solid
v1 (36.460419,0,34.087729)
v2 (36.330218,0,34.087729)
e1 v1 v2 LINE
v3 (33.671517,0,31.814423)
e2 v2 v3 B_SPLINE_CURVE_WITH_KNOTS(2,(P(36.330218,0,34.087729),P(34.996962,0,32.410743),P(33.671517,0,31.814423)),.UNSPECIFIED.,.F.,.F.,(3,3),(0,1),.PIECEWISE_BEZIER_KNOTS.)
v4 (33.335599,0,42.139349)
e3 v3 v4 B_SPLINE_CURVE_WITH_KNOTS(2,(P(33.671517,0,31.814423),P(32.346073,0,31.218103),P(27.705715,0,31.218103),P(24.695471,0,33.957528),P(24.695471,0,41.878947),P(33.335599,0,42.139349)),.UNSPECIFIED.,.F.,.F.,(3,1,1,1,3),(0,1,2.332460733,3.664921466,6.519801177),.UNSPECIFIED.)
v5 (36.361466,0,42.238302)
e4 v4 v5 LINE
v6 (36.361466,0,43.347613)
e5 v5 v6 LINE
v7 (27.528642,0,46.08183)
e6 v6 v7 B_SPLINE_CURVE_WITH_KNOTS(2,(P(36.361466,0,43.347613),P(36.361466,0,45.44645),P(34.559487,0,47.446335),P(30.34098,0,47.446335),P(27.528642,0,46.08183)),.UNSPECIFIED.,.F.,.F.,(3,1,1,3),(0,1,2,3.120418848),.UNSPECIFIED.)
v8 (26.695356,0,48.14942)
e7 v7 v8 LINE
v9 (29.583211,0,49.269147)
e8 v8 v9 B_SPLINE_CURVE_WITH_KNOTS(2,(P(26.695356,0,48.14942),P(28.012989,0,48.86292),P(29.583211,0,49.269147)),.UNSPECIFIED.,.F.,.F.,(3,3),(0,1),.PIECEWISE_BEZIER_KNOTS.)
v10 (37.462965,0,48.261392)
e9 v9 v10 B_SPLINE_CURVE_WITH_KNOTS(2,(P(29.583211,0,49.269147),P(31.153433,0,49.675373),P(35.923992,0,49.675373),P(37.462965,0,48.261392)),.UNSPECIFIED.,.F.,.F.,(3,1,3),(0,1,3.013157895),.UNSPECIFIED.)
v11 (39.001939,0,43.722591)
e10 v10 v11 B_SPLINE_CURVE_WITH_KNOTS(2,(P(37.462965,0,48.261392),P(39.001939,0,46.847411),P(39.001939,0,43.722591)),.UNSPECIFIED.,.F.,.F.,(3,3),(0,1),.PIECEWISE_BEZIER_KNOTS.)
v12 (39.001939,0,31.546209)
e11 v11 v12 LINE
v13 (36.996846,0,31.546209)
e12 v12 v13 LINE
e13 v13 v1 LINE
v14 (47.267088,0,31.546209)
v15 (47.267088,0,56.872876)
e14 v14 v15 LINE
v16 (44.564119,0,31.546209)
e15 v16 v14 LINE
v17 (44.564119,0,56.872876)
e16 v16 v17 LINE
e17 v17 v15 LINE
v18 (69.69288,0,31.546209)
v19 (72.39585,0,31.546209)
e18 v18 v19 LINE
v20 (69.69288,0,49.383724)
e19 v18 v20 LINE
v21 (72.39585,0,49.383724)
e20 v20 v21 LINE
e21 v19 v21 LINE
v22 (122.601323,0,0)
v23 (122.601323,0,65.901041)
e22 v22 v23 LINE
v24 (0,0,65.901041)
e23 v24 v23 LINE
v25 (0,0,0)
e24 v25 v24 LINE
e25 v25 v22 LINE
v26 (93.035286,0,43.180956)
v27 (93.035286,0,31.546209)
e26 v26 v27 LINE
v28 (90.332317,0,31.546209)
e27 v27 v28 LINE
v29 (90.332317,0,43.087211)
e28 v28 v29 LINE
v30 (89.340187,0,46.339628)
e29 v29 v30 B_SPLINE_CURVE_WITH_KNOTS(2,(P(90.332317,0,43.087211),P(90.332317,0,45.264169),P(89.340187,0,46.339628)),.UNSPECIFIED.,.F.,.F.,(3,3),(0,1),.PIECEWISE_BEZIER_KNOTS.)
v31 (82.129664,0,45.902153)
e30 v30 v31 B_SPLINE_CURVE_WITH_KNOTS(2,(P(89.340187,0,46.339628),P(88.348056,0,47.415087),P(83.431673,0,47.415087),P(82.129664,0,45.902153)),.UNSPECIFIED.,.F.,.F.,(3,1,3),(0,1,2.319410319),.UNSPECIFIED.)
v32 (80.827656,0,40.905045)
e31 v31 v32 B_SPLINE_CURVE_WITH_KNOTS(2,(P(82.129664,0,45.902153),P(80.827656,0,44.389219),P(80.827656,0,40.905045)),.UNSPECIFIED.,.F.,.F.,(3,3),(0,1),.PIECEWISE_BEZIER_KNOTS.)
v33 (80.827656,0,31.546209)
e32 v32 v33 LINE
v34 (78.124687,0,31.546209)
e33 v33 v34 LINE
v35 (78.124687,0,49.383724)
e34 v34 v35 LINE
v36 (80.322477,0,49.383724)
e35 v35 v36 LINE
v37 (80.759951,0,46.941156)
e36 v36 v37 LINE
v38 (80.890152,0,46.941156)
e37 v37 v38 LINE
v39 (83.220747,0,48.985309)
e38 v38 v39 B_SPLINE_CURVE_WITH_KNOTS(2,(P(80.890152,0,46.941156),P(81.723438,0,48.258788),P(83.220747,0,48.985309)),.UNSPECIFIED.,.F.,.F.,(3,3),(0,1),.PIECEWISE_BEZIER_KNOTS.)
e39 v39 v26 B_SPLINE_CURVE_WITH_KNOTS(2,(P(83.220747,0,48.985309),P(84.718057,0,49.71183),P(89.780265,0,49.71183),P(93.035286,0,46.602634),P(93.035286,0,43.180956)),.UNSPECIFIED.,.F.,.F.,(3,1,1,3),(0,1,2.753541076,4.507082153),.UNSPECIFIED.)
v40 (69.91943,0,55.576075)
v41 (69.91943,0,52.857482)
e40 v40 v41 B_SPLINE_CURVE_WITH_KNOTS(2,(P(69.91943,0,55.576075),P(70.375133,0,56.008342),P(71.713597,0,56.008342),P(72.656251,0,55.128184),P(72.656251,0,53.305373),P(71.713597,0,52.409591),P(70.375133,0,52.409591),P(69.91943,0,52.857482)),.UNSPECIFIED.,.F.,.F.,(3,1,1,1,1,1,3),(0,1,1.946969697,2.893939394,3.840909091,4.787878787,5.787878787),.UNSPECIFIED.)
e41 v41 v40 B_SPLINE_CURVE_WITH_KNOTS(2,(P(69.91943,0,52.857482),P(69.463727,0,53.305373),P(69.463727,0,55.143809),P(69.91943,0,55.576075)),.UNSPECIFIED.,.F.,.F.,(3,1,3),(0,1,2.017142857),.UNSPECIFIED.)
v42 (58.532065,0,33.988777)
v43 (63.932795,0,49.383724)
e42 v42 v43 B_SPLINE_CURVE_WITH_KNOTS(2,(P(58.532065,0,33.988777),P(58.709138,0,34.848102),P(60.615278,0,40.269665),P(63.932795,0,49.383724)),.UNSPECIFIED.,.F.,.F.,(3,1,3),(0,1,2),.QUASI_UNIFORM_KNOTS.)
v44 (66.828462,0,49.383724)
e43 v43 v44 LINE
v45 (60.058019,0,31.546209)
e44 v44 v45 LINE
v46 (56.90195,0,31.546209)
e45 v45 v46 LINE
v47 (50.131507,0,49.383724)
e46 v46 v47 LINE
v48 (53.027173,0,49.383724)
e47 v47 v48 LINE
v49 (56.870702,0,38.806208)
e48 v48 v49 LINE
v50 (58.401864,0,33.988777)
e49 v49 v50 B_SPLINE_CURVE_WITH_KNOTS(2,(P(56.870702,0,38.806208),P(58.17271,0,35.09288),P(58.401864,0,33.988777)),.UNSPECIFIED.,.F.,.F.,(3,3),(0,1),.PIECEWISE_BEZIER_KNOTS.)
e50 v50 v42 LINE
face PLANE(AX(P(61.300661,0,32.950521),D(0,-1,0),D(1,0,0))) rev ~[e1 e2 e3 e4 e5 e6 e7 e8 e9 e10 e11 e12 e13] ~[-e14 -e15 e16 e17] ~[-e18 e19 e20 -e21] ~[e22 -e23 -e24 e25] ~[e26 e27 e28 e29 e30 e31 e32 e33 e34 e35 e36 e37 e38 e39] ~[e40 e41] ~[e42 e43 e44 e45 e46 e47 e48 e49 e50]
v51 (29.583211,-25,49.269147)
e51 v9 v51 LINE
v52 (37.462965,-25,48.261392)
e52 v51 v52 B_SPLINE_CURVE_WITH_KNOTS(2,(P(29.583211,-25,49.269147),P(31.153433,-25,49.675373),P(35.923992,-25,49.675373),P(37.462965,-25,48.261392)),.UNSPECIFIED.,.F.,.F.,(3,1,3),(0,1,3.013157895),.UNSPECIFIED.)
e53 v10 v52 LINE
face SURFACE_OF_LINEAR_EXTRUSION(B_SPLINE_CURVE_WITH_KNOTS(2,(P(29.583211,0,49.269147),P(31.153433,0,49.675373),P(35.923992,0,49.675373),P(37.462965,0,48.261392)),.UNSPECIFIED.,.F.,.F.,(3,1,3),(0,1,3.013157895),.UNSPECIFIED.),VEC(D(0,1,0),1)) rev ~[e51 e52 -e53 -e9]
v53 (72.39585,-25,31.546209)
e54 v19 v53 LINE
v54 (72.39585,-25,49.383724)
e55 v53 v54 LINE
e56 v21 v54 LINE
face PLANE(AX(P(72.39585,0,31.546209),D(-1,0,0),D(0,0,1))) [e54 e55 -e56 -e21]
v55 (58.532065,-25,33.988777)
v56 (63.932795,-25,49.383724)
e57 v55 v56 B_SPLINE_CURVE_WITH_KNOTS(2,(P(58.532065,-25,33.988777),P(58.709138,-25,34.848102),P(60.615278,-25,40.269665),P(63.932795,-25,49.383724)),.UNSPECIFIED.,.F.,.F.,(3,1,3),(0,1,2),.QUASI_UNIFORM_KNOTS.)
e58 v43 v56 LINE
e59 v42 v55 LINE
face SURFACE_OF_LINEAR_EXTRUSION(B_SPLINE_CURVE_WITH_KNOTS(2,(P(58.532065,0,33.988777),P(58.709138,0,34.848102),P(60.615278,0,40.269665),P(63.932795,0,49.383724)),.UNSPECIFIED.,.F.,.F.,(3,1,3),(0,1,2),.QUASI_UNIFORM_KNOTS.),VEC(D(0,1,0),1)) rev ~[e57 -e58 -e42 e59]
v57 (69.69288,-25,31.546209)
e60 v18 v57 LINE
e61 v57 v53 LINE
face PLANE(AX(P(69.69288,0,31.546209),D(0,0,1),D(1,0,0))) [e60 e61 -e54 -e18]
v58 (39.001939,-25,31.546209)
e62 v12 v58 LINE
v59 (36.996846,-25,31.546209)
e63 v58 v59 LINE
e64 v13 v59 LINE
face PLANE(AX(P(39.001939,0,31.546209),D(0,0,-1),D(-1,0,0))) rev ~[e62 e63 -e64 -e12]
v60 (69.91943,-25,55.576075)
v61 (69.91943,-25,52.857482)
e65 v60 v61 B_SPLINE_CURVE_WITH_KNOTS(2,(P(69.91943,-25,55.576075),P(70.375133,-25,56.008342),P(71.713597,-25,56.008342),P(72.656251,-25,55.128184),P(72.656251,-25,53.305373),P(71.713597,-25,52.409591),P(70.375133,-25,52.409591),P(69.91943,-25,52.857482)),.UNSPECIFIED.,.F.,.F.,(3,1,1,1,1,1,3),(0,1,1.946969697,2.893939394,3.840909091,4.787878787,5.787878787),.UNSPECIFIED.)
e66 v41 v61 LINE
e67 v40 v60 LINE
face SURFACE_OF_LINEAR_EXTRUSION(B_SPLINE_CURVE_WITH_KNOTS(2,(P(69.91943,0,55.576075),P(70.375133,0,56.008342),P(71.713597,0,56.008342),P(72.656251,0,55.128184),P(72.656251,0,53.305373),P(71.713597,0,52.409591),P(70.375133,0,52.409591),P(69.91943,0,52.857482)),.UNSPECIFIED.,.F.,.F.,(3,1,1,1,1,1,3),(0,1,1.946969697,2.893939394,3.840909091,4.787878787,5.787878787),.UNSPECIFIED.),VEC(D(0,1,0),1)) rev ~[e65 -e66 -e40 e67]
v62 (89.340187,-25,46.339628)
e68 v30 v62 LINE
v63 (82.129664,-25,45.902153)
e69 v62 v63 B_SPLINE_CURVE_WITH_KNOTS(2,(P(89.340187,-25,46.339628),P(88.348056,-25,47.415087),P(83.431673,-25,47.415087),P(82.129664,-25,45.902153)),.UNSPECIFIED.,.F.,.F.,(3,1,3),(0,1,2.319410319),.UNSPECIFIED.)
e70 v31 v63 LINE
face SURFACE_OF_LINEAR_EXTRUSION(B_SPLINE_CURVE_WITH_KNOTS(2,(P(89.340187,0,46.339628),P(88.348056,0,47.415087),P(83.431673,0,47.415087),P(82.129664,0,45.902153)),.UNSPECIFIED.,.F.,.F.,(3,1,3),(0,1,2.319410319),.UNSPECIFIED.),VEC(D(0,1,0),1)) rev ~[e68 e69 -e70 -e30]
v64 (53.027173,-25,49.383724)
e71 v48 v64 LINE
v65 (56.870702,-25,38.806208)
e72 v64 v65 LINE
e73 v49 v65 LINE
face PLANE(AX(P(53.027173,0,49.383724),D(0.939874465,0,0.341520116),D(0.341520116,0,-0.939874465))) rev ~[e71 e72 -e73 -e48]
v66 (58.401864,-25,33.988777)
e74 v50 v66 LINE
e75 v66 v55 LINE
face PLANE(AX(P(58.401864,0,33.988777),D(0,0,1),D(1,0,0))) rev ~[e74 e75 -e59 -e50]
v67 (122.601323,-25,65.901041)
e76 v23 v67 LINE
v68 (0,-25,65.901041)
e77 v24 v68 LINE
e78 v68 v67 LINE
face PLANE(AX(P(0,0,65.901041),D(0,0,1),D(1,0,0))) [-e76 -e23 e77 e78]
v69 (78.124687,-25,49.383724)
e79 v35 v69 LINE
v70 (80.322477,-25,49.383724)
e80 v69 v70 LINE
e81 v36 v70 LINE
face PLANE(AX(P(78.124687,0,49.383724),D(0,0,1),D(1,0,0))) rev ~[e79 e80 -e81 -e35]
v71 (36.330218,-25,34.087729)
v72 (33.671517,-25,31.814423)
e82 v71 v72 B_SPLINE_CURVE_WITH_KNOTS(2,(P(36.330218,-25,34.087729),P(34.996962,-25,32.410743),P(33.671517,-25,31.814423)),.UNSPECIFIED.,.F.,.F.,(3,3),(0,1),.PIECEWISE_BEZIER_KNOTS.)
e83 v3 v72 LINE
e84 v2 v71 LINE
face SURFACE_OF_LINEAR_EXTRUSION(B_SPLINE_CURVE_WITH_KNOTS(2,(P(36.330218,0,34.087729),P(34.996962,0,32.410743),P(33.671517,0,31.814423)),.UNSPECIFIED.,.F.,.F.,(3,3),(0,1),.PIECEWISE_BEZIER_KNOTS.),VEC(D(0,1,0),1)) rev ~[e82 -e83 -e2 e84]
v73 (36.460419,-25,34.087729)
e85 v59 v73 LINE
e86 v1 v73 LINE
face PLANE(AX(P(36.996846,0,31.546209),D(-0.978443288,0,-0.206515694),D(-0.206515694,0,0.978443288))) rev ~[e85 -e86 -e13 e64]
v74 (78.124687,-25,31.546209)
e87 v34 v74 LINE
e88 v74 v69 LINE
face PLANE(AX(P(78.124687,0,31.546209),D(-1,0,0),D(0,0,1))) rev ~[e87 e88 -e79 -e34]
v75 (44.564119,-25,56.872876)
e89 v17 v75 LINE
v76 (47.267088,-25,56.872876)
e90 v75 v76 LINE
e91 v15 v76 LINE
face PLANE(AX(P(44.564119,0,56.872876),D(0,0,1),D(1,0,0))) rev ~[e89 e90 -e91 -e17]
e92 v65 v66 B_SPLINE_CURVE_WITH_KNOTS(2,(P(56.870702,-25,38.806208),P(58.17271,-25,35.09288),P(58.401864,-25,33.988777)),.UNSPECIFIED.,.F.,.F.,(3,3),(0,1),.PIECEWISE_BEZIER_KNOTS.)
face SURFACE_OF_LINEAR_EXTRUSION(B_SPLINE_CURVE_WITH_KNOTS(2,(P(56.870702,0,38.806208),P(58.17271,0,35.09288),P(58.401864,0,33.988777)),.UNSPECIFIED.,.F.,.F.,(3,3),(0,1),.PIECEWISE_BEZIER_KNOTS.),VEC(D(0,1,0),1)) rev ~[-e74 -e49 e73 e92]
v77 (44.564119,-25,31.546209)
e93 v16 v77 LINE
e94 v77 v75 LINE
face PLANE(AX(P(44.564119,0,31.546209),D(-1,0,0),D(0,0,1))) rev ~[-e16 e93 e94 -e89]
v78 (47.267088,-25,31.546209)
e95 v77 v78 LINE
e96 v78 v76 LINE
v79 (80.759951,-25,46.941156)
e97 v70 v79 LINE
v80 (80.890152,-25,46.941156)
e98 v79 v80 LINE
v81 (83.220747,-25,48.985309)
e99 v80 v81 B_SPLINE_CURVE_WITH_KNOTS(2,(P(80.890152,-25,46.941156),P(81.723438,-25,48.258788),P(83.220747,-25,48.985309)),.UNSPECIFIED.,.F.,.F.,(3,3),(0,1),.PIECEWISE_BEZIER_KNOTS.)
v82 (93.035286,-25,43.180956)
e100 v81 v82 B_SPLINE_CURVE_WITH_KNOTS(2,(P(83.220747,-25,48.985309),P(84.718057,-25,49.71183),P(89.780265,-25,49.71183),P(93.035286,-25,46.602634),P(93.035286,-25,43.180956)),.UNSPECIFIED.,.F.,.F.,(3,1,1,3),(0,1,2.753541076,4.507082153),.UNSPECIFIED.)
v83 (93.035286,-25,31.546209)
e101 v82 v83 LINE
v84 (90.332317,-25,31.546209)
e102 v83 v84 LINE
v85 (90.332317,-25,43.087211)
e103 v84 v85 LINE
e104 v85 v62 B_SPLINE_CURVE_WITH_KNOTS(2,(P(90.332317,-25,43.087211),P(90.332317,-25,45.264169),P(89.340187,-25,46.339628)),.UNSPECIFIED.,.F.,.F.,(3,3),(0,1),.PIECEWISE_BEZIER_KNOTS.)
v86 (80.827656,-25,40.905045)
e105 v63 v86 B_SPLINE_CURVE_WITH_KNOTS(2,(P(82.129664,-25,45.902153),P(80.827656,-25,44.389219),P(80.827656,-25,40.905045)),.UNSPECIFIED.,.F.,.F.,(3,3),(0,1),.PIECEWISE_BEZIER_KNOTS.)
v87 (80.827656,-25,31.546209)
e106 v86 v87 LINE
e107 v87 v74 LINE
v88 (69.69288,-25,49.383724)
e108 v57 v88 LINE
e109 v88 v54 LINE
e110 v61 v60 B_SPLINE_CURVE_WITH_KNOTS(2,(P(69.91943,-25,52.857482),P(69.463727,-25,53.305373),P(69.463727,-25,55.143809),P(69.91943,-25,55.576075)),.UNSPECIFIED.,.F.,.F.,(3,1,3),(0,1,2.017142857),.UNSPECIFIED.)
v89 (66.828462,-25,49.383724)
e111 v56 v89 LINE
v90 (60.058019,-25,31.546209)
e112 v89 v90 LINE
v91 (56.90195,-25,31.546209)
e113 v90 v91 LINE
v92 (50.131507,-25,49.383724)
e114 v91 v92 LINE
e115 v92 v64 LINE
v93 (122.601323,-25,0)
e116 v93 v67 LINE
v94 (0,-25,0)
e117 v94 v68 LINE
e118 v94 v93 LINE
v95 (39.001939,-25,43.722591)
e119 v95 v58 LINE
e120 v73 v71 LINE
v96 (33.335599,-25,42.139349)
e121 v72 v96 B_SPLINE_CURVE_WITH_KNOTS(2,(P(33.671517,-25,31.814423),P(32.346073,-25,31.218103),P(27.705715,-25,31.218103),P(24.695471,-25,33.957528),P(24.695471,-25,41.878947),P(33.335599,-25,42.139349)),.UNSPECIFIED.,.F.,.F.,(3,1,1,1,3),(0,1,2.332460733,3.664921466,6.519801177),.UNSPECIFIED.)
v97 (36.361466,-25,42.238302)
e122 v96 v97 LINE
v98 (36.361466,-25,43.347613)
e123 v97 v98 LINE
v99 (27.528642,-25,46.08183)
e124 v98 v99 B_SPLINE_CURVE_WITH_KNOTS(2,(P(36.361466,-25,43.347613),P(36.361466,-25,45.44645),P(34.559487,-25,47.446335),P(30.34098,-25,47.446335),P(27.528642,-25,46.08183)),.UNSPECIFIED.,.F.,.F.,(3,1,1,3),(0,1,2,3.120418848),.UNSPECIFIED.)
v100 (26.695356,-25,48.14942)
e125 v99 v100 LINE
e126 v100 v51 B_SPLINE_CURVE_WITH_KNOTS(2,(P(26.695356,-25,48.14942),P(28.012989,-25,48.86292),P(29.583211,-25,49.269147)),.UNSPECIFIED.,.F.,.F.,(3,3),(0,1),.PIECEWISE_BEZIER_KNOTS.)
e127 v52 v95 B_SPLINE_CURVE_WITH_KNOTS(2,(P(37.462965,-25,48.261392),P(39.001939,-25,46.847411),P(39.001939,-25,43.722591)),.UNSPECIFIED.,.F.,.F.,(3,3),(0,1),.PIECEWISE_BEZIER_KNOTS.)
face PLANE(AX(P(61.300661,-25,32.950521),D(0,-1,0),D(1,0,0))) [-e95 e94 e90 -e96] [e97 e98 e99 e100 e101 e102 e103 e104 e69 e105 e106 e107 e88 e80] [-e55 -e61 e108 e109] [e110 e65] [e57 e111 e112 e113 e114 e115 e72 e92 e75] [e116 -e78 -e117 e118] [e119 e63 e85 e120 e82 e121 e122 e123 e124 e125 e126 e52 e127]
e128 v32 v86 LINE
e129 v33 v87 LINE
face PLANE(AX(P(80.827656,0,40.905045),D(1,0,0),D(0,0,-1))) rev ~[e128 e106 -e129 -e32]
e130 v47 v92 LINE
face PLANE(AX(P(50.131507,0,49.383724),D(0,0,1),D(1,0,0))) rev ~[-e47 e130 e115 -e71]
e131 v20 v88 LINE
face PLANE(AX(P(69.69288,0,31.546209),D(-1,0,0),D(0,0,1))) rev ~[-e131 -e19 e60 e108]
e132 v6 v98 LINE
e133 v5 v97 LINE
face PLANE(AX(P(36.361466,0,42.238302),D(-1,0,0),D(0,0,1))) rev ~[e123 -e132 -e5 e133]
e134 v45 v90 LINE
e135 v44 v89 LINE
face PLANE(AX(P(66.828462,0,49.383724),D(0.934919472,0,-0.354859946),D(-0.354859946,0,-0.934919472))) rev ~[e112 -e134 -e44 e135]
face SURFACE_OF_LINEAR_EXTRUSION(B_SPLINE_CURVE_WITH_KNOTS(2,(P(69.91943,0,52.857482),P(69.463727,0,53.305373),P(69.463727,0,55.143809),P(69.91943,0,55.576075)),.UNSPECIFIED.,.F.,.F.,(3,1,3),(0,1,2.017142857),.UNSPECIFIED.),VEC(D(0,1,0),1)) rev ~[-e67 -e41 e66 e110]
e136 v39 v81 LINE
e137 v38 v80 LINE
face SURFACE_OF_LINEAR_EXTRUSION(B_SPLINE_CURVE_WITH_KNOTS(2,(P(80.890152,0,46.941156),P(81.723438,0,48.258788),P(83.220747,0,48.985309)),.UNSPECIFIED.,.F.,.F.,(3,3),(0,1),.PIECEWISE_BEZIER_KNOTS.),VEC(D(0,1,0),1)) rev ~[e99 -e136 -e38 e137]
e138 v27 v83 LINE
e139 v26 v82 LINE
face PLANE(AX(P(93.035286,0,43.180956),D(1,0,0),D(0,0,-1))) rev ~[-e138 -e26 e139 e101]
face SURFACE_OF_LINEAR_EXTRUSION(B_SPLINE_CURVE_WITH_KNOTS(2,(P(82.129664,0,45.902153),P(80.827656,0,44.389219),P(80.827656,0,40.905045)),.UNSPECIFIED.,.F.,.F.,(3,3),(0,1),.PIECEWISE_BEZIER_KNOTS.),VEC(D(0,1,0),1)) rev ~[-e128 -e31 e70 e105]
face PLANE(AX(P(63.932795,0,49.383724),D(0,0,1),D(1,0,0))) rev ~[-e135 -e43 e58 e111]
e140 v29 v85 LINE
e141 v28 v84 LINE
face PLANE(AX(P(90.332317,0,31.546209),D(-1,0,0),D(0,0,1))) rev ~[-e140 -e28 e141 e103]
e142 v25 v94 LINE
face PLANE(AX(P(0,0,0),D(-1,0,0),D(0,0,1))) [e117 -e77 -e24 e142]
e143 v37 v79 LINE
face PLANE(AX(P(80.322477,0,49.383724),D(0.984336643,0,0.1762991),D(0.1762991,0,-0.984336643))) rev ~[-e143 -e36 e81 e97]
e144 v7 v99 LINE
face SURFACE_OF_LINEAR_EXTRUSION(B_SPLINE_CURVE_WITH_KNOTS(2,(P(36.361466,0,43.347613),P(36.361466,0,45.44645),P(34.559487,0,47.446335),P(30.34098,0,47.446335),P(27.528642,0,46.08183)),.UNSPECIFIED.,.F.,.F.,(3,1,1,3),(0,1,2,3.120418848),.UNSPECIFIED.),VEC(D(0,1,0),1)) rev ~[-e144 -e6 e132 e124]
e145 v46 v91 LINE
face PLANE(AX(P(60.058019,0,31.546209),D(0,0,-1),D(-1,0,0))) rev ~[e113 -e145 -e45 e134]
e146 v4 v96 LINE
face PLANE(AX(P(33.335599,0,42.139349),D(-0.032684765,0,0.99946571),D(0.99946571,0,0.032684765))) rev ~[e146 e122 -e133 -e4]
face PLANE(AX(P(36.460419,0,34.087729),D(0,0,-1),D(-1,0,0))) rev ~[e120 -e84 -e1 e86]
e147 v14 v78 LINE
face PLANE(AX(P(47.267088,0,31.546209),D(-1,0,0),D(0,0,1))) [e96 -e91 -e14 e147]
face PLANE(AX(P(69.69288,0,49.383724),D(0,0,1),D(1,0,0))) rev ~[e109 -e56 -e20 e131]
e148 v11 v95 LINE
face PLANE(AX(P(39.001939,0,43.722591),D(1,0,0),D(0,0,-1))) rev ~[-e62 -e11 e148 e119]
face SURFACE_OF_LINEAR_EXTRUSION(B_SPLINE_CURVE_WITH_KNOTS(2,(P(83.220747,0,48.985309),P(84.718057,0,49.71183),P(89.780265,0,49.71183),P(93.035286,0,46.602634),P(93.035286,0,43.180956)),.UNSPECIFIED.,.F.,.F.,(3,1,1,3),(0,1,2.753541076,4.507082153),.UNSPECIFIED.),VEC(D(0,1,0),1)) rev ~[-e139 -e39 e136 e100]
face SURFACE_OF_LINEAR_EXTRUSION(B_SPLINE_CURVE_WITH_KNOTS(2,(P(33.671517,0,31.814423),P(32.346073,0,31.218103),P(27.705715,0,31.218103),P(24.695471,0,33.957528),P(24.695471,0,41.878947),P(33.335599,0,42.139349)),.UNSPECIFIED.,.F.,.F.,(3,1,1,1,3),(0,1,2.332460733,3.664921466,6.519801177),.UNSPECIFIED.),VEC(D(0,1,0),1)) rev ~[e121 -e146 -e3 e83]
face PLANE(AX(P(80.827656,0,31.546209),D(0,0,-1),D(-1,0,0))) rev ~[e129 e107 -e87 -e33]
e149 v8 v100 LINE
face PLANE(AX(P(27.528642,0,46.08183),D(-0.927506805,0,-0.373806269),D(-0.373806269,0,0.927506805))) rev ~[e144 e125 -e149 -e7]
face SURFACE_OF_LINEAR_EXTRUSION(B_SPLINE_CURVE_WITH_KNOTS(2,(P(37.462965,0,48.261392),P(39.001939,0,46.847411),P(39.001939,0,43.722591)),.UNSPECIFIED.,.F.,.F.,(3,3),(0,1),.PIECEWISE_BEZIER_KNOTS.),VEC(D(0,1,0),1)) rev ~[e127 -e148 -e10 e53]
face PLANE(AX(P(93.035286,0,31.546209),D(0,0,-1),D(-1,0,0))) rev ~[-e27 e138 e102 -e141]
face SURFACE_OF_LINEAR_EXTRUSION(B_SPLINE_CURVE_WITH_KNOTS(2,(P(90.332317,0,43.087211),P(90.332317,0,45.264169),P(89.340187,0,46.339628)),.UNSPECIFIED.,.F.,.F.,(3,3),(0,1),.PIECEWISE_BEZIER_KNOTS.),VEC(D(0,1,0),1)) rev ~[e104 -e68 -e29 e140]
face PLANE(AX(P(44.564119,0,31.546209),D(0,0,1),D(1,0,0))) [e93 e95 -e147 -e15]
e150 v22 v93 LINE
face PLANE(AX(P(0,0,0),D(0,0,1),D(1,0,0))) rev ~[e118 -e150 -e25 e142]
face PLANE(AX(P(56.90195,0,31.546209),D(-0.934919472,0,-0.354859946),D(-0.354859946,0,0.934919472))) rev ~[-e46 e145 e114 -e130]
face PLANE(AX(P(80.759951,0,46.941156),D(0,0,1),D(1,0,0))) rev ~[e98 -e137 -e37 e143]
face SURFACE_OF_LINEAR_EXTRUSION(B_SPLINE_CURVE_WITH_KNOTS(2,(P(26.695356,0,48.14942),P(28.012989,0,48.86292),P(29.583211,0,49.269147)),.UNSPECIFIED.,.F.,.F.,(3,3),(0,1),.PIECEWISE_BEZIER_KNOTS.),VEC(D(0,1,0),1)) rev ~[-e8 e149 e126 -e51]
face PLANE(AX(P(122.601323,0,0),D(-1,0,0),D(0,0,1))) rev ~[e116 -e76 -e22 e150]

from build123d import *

# Parameters (mm, degrees)
F1_W     = 122.6013228297
F1_H     = 65.9010410309
F1_W_2   = 2.7029693592
F1_H_2   = 25.326666655
F1_H_3   = 17.8375145576
F2_DEPTH = 25


with BuildPart() as f2:
    # F1 (on face) → F2 (new body)
    with BuildSketch(Plane.XZ):
        with Locations((61.3006614149, 32.9505205154)):
            Rectangle(F1_W, F1_H)
        with BuildLine():
            Line((39.001939275, 31.5462090075), (36.9968463977, 31.5462090075))
            Line((36.9968463977, 31.5462090075), (36.4604189526, 34.0877293299))
            Line((36.4604189526, 34.0877293299), (36.3302181164, 34.0877293299))
            add(Edge.make_bspline(
                [(36.3302181164, 34.0877293299), (34.9969615539, 32.4107425598), (33.6715170415, 31.81442273)],
                knots=[0, 0, 0, 1, 1, 1], degree=2))
            add(Edge.make_bspline(
                [(33.6715170415, 31.81442273), (32.3460725291, 31.2181029003), (30.3566037522, 31.2181029003)],
                knots=[0, 0, 0, 1, 1, 1], degree=2))
            add(Edge.make_bspline(
                [(30.3566037522, 31.2181029003), (27.7057147274, 31.2181029003), (26.2005930611, 32.587815697)],
                knots=[0, 0, 0, 1, 1, 1], degree=2))
            add(Edge.make_bspline(
                [(26.2005930611, 32.587815697), (24.6954713948, 33.9575284937), (24.6954713948, 36.4782166823)],
                knots=[0, 0, 0, 1, 1, 1], degree=2))
            add(Edge.make_bspline(
                [(24.6954713948, 36.4782166823), (24.6954713948, 41.8789473673), (33.3355988842, 42.1393490396)],
                knots=[0, 0, 0, 1, 1, 1], degree=2))
            Line((33.3355988842, 42.1393490396), (36.3614663171, 42.2383016751))
            Line((36.3614663171, 42.2383016751), (36.3614663171, 43.3476127995))
            add(Edge.make_bspline(
                [(36.3614663171, 43.3476127995), (36.3614663171, 45.4464502788), (35.4604765307, 46.4463927007)],
                knots=[0, 0, 0, 1, 1, 1], degree=2))
            add(Edge.make_bspline(
                [(35.4604765307, 46.4463927007), (34.5594867443, 47.4463351226), (32.5700179674, 47.4463351226)],
                knots=[0, 0, 0, 1, 1, 1], degree=2))
            add(Edge.make_bspline(
                [(32.5700179674, 47.4463351226), (30.3409796519, 47.4463351226), (27.5286415902, 46.0818303594)],
                knots=[0, 0, 0, 1, 1, 1], degree=2))
            Line((27.5286415902, 46.0818303594), (26.6953562386, 48.149419638))
            add(Edge.make_bspline(
                [(26.6953562386, 48.149419638), (28.0129887008, 48.8629202203), (29.5832107853, 49.2691468292)],
                knots=[0, 0, 0, 1, 1, 1], degree=2))
            add(Edge.make_bspline(
                [(29.5832107853, 49.2691468292), (31.1534328697, 49.6753734381), (32.7366750377, 49.6753734381)],
                knots=[0, 0, 0, 1, 1, 1], degree=2))
            add(Edge.make_bspline(
                [(32.7366750377, 49.6753734381), (35.9239915075, 49.6753734381), (37.4629653913, 48.2613923571)],
                knots=[0, 0, 0, 1, 1, 1], degree=2))
            add(Edge.make_bspline(
                [(37.4629653913, 48.2613923571), (39.001939275, 46.8474112762), (39.001939275, 43.7225912077)],
                knots=[0, 0, 0, 1, 1, 1], degree=2))
            Line((39.001939275, 43.7225912077), (39.001939275, 31.5462090075))
        make_face(mode=Mode.SUBTRACT)
        with BuildLine():
            Line((60.0580185031, 31.5462090075), (56.9019502339, 31.5462090075))
            Line((56.9019502339, 31.5462090075), (50.1315067522, 49.3837235651))
            Line((50.1315067522, 49.3837235651), (53.027173349, 49.3837235651))
            Line((53.027173349, 49.3837235651), (56.8707020332, 38.8062076333))
            add(Edge.make_bspline(
                [(56.8707020332, 38.8062076333), (58.1727103951, 35.0928797852), (58.4018638668, 33.9887766944)],
                knots=[0, 0, 0, 1, 1, 1], degree=2))
            Line((58.4018638668, 33.9887766944), (58.532064703, 33.9887766944))
            add(Edge.make_bspline(
                [(58.532064703, 33.9887766944), (58.7091378402, 34.8481022132), (59.6622079611, 37.5588836226)],
                knots=[0, 0, 0, 1, 1, 1], degree=2))
            add(Edge.make_bspline(
                [(59.6622079611, 37.5588836226), (60.615278082, 40.269665032), (63.932795388, 49.3837235651)],
                knots=[0, 0, 0, 1, 1, 1], degree=2))
            Line((63.932795388, 49.3837235651), (66.8284619848, 49.3837235651))
            Line((66.8284619848, 49.3837235651), (60.0580185031, 31.5462090075))
        make_face(mode=Mode.SUBTRACT)
        with Locations((45.9156036765, 44.209542335)):
            Rectangle(F1_W_2, F1_H_2, mode=Mode.SUBTRACT)
        with Locations((71.0443650605, 40.4649662863)):
            Rectangle(F1_W_2, F1_H_3, mode=Mode.SUBTRACT)
        with BuildLine():
            Line((93.0352862924, 31.5462090075), (90.3323169332, 31.5462090075))
            Line((90.3323169332, 31.5462090075), (90.3323169332, 43.0872111271))
            add(Edge.make_bspline(
                [(90.3323169332, 43.0872111271), (90.3323169332, 45.2641691081), (89.3401865615, 46.339628015)],
                knots=[0, 0, 0, 1, 1, 1], degree=2))
            add(Edge.make_bspline(
                [(89.3401865615, 46.339628015), (88.3480561897, 47.4150869219), (86.2283865766, 47.4150869219)],
                knots=[0, 0, 0, 1, 1, 1], degree=2))
            add(Edge.make_bspline(
                [(86.2283865766, 47.4150869219), (83.4316726153, 47.4150869219), (82.1296642534, 45.9021532054)],
                knots=[0, 0, 0, 1, 1, 1], degree=2))
            add(Edge.make_bspline(
                [(82.1296642534, 45.9021532054), (80.8276558916, 44.3892194889), (80.8276558916, 40.9050451126)],
                knots=[0, 0, 0, 1, 1, 1], degree=2))
            Line((80.8276558916, 40.9050451126), (80.8276558916, 31.5462090075))
            Line((80.8276558916, 31.5462090075), (78.1246865323, 31.5462090075))
            Line((78.1246865323, 31.5462090075), (78.1246865323, 49.3837235651))
            Line((78.1246865323, 49.3837235651), (80.3224766472, 49.3837235651))
            Line((80.3224766472, 49.3837235651), (80.7599514568, 46.9411558782))
            Line((80.7599514568, 46.9411558782), (80.8901522929, 46.9411558782))
            add(Edge.make_bspline(
                [(80.8901522929, 46.9411558782), (81.7234376445, 48.2587883404), (83.2207472607, 48.9853090063)],
                knots=[0, 0, 0, 1, 1, 1], degree=2))
            add(Edge.make_bspline(
                [(83.2207472607, 48.9853090063), (84.7180568768, 49.7118296723), (86.5564926838, 49.7118296723)],
                knots=[0, 0, 0, 1, 1, 1], degree=2))
            add(Edge.make_bspline(
                [(86.5564926838, 49.7118296723), (89.7802653878, 49.7118296723), (91.4077758401, 48.1572316882)],
                knots=[0, 0, 0, 1, 1, 1], degree=2))
            add(Edge.make_bspline(
                [(91.4077758401, 48.1572316882), (93.0352862924, 46.6026337041), (93.0352862924, 43.1809557291)],
                knots=[0, 0, 0, 1, 1, 1], degree=2))
            Line((93.0352862924, 43.1809557291), (93.0352862924, 31.5462090075))
        make_face(mode=Mode.SUBTRACT)
        with BuildLine():
            add(Edge.make_bspline(
                [(69.9194298359, 52.8574818745), (69.4637269092, 53.305372751), (69.4637269092, 54.2167786043)],
                knots=[0, 0, 0, 1, 1, 1], degree=2))
            add(Edge.make_bspline(
                [(69.4637269092, 54.2167786043), (69.4637269092, 55.143808558), (69.9194298359, 55.5760753341)],
                knots=[0, 0, 0, 1, 1, 1], degree=2))
            add(Edge.make_bspline(
                [(69.9194298359, 55.5760753341), (70.3751327625, 56.0083421102), (71.0625931776, 56.0083421102)],
                knots=[0, 0, 0, 1, 1, 1], degree=2))
            add(Edge.make_bspline(
                [(71.0625931776, 56.0083421102), (71.7135973585, 56.0083421102), (72.1849243855, 55.5682632839)],
                knots=[0, 0, 0, 1, 1, 1], degree=2))
            add(Edge.make_bspline(
                [(72.1849243855, 55.5682632839), (72.6562514125, 55.1281844576), (72.6562514125, 54.2167786043)],
                knots=[0, 0, 0, 1, 1, 1], degree=2))
            add(Edge.make_bspline(
                [(72.6562514125, 54.2167786043), (72.6562514125, 53.305372751), (72.1849243855, 52.8574818745)],
                knots=[0, 0, 0, 1, 1, 1], degree=2))
            add(Edge.make_bspline(
                [(72.1849243855, 52.8574818745), (71.7135973585, 52.409590998), (71.0625931776, 52.409590998)],
                knots=[0, 0, 0, 1, 1, 1], degree=2))
            add(Edge.make_bspline(
                [(71.0625931776, 52.409590998), (70.3751327625, 52.409590998), (69.9194298359, 52.8574818745)],
                knots=[0, 0, 0, 1, 1, 1], degree=2))
        make_face(mode=Mode.SUBTRACT)
    extrude(amount=F2_DEPTH)


solid = f2.part
